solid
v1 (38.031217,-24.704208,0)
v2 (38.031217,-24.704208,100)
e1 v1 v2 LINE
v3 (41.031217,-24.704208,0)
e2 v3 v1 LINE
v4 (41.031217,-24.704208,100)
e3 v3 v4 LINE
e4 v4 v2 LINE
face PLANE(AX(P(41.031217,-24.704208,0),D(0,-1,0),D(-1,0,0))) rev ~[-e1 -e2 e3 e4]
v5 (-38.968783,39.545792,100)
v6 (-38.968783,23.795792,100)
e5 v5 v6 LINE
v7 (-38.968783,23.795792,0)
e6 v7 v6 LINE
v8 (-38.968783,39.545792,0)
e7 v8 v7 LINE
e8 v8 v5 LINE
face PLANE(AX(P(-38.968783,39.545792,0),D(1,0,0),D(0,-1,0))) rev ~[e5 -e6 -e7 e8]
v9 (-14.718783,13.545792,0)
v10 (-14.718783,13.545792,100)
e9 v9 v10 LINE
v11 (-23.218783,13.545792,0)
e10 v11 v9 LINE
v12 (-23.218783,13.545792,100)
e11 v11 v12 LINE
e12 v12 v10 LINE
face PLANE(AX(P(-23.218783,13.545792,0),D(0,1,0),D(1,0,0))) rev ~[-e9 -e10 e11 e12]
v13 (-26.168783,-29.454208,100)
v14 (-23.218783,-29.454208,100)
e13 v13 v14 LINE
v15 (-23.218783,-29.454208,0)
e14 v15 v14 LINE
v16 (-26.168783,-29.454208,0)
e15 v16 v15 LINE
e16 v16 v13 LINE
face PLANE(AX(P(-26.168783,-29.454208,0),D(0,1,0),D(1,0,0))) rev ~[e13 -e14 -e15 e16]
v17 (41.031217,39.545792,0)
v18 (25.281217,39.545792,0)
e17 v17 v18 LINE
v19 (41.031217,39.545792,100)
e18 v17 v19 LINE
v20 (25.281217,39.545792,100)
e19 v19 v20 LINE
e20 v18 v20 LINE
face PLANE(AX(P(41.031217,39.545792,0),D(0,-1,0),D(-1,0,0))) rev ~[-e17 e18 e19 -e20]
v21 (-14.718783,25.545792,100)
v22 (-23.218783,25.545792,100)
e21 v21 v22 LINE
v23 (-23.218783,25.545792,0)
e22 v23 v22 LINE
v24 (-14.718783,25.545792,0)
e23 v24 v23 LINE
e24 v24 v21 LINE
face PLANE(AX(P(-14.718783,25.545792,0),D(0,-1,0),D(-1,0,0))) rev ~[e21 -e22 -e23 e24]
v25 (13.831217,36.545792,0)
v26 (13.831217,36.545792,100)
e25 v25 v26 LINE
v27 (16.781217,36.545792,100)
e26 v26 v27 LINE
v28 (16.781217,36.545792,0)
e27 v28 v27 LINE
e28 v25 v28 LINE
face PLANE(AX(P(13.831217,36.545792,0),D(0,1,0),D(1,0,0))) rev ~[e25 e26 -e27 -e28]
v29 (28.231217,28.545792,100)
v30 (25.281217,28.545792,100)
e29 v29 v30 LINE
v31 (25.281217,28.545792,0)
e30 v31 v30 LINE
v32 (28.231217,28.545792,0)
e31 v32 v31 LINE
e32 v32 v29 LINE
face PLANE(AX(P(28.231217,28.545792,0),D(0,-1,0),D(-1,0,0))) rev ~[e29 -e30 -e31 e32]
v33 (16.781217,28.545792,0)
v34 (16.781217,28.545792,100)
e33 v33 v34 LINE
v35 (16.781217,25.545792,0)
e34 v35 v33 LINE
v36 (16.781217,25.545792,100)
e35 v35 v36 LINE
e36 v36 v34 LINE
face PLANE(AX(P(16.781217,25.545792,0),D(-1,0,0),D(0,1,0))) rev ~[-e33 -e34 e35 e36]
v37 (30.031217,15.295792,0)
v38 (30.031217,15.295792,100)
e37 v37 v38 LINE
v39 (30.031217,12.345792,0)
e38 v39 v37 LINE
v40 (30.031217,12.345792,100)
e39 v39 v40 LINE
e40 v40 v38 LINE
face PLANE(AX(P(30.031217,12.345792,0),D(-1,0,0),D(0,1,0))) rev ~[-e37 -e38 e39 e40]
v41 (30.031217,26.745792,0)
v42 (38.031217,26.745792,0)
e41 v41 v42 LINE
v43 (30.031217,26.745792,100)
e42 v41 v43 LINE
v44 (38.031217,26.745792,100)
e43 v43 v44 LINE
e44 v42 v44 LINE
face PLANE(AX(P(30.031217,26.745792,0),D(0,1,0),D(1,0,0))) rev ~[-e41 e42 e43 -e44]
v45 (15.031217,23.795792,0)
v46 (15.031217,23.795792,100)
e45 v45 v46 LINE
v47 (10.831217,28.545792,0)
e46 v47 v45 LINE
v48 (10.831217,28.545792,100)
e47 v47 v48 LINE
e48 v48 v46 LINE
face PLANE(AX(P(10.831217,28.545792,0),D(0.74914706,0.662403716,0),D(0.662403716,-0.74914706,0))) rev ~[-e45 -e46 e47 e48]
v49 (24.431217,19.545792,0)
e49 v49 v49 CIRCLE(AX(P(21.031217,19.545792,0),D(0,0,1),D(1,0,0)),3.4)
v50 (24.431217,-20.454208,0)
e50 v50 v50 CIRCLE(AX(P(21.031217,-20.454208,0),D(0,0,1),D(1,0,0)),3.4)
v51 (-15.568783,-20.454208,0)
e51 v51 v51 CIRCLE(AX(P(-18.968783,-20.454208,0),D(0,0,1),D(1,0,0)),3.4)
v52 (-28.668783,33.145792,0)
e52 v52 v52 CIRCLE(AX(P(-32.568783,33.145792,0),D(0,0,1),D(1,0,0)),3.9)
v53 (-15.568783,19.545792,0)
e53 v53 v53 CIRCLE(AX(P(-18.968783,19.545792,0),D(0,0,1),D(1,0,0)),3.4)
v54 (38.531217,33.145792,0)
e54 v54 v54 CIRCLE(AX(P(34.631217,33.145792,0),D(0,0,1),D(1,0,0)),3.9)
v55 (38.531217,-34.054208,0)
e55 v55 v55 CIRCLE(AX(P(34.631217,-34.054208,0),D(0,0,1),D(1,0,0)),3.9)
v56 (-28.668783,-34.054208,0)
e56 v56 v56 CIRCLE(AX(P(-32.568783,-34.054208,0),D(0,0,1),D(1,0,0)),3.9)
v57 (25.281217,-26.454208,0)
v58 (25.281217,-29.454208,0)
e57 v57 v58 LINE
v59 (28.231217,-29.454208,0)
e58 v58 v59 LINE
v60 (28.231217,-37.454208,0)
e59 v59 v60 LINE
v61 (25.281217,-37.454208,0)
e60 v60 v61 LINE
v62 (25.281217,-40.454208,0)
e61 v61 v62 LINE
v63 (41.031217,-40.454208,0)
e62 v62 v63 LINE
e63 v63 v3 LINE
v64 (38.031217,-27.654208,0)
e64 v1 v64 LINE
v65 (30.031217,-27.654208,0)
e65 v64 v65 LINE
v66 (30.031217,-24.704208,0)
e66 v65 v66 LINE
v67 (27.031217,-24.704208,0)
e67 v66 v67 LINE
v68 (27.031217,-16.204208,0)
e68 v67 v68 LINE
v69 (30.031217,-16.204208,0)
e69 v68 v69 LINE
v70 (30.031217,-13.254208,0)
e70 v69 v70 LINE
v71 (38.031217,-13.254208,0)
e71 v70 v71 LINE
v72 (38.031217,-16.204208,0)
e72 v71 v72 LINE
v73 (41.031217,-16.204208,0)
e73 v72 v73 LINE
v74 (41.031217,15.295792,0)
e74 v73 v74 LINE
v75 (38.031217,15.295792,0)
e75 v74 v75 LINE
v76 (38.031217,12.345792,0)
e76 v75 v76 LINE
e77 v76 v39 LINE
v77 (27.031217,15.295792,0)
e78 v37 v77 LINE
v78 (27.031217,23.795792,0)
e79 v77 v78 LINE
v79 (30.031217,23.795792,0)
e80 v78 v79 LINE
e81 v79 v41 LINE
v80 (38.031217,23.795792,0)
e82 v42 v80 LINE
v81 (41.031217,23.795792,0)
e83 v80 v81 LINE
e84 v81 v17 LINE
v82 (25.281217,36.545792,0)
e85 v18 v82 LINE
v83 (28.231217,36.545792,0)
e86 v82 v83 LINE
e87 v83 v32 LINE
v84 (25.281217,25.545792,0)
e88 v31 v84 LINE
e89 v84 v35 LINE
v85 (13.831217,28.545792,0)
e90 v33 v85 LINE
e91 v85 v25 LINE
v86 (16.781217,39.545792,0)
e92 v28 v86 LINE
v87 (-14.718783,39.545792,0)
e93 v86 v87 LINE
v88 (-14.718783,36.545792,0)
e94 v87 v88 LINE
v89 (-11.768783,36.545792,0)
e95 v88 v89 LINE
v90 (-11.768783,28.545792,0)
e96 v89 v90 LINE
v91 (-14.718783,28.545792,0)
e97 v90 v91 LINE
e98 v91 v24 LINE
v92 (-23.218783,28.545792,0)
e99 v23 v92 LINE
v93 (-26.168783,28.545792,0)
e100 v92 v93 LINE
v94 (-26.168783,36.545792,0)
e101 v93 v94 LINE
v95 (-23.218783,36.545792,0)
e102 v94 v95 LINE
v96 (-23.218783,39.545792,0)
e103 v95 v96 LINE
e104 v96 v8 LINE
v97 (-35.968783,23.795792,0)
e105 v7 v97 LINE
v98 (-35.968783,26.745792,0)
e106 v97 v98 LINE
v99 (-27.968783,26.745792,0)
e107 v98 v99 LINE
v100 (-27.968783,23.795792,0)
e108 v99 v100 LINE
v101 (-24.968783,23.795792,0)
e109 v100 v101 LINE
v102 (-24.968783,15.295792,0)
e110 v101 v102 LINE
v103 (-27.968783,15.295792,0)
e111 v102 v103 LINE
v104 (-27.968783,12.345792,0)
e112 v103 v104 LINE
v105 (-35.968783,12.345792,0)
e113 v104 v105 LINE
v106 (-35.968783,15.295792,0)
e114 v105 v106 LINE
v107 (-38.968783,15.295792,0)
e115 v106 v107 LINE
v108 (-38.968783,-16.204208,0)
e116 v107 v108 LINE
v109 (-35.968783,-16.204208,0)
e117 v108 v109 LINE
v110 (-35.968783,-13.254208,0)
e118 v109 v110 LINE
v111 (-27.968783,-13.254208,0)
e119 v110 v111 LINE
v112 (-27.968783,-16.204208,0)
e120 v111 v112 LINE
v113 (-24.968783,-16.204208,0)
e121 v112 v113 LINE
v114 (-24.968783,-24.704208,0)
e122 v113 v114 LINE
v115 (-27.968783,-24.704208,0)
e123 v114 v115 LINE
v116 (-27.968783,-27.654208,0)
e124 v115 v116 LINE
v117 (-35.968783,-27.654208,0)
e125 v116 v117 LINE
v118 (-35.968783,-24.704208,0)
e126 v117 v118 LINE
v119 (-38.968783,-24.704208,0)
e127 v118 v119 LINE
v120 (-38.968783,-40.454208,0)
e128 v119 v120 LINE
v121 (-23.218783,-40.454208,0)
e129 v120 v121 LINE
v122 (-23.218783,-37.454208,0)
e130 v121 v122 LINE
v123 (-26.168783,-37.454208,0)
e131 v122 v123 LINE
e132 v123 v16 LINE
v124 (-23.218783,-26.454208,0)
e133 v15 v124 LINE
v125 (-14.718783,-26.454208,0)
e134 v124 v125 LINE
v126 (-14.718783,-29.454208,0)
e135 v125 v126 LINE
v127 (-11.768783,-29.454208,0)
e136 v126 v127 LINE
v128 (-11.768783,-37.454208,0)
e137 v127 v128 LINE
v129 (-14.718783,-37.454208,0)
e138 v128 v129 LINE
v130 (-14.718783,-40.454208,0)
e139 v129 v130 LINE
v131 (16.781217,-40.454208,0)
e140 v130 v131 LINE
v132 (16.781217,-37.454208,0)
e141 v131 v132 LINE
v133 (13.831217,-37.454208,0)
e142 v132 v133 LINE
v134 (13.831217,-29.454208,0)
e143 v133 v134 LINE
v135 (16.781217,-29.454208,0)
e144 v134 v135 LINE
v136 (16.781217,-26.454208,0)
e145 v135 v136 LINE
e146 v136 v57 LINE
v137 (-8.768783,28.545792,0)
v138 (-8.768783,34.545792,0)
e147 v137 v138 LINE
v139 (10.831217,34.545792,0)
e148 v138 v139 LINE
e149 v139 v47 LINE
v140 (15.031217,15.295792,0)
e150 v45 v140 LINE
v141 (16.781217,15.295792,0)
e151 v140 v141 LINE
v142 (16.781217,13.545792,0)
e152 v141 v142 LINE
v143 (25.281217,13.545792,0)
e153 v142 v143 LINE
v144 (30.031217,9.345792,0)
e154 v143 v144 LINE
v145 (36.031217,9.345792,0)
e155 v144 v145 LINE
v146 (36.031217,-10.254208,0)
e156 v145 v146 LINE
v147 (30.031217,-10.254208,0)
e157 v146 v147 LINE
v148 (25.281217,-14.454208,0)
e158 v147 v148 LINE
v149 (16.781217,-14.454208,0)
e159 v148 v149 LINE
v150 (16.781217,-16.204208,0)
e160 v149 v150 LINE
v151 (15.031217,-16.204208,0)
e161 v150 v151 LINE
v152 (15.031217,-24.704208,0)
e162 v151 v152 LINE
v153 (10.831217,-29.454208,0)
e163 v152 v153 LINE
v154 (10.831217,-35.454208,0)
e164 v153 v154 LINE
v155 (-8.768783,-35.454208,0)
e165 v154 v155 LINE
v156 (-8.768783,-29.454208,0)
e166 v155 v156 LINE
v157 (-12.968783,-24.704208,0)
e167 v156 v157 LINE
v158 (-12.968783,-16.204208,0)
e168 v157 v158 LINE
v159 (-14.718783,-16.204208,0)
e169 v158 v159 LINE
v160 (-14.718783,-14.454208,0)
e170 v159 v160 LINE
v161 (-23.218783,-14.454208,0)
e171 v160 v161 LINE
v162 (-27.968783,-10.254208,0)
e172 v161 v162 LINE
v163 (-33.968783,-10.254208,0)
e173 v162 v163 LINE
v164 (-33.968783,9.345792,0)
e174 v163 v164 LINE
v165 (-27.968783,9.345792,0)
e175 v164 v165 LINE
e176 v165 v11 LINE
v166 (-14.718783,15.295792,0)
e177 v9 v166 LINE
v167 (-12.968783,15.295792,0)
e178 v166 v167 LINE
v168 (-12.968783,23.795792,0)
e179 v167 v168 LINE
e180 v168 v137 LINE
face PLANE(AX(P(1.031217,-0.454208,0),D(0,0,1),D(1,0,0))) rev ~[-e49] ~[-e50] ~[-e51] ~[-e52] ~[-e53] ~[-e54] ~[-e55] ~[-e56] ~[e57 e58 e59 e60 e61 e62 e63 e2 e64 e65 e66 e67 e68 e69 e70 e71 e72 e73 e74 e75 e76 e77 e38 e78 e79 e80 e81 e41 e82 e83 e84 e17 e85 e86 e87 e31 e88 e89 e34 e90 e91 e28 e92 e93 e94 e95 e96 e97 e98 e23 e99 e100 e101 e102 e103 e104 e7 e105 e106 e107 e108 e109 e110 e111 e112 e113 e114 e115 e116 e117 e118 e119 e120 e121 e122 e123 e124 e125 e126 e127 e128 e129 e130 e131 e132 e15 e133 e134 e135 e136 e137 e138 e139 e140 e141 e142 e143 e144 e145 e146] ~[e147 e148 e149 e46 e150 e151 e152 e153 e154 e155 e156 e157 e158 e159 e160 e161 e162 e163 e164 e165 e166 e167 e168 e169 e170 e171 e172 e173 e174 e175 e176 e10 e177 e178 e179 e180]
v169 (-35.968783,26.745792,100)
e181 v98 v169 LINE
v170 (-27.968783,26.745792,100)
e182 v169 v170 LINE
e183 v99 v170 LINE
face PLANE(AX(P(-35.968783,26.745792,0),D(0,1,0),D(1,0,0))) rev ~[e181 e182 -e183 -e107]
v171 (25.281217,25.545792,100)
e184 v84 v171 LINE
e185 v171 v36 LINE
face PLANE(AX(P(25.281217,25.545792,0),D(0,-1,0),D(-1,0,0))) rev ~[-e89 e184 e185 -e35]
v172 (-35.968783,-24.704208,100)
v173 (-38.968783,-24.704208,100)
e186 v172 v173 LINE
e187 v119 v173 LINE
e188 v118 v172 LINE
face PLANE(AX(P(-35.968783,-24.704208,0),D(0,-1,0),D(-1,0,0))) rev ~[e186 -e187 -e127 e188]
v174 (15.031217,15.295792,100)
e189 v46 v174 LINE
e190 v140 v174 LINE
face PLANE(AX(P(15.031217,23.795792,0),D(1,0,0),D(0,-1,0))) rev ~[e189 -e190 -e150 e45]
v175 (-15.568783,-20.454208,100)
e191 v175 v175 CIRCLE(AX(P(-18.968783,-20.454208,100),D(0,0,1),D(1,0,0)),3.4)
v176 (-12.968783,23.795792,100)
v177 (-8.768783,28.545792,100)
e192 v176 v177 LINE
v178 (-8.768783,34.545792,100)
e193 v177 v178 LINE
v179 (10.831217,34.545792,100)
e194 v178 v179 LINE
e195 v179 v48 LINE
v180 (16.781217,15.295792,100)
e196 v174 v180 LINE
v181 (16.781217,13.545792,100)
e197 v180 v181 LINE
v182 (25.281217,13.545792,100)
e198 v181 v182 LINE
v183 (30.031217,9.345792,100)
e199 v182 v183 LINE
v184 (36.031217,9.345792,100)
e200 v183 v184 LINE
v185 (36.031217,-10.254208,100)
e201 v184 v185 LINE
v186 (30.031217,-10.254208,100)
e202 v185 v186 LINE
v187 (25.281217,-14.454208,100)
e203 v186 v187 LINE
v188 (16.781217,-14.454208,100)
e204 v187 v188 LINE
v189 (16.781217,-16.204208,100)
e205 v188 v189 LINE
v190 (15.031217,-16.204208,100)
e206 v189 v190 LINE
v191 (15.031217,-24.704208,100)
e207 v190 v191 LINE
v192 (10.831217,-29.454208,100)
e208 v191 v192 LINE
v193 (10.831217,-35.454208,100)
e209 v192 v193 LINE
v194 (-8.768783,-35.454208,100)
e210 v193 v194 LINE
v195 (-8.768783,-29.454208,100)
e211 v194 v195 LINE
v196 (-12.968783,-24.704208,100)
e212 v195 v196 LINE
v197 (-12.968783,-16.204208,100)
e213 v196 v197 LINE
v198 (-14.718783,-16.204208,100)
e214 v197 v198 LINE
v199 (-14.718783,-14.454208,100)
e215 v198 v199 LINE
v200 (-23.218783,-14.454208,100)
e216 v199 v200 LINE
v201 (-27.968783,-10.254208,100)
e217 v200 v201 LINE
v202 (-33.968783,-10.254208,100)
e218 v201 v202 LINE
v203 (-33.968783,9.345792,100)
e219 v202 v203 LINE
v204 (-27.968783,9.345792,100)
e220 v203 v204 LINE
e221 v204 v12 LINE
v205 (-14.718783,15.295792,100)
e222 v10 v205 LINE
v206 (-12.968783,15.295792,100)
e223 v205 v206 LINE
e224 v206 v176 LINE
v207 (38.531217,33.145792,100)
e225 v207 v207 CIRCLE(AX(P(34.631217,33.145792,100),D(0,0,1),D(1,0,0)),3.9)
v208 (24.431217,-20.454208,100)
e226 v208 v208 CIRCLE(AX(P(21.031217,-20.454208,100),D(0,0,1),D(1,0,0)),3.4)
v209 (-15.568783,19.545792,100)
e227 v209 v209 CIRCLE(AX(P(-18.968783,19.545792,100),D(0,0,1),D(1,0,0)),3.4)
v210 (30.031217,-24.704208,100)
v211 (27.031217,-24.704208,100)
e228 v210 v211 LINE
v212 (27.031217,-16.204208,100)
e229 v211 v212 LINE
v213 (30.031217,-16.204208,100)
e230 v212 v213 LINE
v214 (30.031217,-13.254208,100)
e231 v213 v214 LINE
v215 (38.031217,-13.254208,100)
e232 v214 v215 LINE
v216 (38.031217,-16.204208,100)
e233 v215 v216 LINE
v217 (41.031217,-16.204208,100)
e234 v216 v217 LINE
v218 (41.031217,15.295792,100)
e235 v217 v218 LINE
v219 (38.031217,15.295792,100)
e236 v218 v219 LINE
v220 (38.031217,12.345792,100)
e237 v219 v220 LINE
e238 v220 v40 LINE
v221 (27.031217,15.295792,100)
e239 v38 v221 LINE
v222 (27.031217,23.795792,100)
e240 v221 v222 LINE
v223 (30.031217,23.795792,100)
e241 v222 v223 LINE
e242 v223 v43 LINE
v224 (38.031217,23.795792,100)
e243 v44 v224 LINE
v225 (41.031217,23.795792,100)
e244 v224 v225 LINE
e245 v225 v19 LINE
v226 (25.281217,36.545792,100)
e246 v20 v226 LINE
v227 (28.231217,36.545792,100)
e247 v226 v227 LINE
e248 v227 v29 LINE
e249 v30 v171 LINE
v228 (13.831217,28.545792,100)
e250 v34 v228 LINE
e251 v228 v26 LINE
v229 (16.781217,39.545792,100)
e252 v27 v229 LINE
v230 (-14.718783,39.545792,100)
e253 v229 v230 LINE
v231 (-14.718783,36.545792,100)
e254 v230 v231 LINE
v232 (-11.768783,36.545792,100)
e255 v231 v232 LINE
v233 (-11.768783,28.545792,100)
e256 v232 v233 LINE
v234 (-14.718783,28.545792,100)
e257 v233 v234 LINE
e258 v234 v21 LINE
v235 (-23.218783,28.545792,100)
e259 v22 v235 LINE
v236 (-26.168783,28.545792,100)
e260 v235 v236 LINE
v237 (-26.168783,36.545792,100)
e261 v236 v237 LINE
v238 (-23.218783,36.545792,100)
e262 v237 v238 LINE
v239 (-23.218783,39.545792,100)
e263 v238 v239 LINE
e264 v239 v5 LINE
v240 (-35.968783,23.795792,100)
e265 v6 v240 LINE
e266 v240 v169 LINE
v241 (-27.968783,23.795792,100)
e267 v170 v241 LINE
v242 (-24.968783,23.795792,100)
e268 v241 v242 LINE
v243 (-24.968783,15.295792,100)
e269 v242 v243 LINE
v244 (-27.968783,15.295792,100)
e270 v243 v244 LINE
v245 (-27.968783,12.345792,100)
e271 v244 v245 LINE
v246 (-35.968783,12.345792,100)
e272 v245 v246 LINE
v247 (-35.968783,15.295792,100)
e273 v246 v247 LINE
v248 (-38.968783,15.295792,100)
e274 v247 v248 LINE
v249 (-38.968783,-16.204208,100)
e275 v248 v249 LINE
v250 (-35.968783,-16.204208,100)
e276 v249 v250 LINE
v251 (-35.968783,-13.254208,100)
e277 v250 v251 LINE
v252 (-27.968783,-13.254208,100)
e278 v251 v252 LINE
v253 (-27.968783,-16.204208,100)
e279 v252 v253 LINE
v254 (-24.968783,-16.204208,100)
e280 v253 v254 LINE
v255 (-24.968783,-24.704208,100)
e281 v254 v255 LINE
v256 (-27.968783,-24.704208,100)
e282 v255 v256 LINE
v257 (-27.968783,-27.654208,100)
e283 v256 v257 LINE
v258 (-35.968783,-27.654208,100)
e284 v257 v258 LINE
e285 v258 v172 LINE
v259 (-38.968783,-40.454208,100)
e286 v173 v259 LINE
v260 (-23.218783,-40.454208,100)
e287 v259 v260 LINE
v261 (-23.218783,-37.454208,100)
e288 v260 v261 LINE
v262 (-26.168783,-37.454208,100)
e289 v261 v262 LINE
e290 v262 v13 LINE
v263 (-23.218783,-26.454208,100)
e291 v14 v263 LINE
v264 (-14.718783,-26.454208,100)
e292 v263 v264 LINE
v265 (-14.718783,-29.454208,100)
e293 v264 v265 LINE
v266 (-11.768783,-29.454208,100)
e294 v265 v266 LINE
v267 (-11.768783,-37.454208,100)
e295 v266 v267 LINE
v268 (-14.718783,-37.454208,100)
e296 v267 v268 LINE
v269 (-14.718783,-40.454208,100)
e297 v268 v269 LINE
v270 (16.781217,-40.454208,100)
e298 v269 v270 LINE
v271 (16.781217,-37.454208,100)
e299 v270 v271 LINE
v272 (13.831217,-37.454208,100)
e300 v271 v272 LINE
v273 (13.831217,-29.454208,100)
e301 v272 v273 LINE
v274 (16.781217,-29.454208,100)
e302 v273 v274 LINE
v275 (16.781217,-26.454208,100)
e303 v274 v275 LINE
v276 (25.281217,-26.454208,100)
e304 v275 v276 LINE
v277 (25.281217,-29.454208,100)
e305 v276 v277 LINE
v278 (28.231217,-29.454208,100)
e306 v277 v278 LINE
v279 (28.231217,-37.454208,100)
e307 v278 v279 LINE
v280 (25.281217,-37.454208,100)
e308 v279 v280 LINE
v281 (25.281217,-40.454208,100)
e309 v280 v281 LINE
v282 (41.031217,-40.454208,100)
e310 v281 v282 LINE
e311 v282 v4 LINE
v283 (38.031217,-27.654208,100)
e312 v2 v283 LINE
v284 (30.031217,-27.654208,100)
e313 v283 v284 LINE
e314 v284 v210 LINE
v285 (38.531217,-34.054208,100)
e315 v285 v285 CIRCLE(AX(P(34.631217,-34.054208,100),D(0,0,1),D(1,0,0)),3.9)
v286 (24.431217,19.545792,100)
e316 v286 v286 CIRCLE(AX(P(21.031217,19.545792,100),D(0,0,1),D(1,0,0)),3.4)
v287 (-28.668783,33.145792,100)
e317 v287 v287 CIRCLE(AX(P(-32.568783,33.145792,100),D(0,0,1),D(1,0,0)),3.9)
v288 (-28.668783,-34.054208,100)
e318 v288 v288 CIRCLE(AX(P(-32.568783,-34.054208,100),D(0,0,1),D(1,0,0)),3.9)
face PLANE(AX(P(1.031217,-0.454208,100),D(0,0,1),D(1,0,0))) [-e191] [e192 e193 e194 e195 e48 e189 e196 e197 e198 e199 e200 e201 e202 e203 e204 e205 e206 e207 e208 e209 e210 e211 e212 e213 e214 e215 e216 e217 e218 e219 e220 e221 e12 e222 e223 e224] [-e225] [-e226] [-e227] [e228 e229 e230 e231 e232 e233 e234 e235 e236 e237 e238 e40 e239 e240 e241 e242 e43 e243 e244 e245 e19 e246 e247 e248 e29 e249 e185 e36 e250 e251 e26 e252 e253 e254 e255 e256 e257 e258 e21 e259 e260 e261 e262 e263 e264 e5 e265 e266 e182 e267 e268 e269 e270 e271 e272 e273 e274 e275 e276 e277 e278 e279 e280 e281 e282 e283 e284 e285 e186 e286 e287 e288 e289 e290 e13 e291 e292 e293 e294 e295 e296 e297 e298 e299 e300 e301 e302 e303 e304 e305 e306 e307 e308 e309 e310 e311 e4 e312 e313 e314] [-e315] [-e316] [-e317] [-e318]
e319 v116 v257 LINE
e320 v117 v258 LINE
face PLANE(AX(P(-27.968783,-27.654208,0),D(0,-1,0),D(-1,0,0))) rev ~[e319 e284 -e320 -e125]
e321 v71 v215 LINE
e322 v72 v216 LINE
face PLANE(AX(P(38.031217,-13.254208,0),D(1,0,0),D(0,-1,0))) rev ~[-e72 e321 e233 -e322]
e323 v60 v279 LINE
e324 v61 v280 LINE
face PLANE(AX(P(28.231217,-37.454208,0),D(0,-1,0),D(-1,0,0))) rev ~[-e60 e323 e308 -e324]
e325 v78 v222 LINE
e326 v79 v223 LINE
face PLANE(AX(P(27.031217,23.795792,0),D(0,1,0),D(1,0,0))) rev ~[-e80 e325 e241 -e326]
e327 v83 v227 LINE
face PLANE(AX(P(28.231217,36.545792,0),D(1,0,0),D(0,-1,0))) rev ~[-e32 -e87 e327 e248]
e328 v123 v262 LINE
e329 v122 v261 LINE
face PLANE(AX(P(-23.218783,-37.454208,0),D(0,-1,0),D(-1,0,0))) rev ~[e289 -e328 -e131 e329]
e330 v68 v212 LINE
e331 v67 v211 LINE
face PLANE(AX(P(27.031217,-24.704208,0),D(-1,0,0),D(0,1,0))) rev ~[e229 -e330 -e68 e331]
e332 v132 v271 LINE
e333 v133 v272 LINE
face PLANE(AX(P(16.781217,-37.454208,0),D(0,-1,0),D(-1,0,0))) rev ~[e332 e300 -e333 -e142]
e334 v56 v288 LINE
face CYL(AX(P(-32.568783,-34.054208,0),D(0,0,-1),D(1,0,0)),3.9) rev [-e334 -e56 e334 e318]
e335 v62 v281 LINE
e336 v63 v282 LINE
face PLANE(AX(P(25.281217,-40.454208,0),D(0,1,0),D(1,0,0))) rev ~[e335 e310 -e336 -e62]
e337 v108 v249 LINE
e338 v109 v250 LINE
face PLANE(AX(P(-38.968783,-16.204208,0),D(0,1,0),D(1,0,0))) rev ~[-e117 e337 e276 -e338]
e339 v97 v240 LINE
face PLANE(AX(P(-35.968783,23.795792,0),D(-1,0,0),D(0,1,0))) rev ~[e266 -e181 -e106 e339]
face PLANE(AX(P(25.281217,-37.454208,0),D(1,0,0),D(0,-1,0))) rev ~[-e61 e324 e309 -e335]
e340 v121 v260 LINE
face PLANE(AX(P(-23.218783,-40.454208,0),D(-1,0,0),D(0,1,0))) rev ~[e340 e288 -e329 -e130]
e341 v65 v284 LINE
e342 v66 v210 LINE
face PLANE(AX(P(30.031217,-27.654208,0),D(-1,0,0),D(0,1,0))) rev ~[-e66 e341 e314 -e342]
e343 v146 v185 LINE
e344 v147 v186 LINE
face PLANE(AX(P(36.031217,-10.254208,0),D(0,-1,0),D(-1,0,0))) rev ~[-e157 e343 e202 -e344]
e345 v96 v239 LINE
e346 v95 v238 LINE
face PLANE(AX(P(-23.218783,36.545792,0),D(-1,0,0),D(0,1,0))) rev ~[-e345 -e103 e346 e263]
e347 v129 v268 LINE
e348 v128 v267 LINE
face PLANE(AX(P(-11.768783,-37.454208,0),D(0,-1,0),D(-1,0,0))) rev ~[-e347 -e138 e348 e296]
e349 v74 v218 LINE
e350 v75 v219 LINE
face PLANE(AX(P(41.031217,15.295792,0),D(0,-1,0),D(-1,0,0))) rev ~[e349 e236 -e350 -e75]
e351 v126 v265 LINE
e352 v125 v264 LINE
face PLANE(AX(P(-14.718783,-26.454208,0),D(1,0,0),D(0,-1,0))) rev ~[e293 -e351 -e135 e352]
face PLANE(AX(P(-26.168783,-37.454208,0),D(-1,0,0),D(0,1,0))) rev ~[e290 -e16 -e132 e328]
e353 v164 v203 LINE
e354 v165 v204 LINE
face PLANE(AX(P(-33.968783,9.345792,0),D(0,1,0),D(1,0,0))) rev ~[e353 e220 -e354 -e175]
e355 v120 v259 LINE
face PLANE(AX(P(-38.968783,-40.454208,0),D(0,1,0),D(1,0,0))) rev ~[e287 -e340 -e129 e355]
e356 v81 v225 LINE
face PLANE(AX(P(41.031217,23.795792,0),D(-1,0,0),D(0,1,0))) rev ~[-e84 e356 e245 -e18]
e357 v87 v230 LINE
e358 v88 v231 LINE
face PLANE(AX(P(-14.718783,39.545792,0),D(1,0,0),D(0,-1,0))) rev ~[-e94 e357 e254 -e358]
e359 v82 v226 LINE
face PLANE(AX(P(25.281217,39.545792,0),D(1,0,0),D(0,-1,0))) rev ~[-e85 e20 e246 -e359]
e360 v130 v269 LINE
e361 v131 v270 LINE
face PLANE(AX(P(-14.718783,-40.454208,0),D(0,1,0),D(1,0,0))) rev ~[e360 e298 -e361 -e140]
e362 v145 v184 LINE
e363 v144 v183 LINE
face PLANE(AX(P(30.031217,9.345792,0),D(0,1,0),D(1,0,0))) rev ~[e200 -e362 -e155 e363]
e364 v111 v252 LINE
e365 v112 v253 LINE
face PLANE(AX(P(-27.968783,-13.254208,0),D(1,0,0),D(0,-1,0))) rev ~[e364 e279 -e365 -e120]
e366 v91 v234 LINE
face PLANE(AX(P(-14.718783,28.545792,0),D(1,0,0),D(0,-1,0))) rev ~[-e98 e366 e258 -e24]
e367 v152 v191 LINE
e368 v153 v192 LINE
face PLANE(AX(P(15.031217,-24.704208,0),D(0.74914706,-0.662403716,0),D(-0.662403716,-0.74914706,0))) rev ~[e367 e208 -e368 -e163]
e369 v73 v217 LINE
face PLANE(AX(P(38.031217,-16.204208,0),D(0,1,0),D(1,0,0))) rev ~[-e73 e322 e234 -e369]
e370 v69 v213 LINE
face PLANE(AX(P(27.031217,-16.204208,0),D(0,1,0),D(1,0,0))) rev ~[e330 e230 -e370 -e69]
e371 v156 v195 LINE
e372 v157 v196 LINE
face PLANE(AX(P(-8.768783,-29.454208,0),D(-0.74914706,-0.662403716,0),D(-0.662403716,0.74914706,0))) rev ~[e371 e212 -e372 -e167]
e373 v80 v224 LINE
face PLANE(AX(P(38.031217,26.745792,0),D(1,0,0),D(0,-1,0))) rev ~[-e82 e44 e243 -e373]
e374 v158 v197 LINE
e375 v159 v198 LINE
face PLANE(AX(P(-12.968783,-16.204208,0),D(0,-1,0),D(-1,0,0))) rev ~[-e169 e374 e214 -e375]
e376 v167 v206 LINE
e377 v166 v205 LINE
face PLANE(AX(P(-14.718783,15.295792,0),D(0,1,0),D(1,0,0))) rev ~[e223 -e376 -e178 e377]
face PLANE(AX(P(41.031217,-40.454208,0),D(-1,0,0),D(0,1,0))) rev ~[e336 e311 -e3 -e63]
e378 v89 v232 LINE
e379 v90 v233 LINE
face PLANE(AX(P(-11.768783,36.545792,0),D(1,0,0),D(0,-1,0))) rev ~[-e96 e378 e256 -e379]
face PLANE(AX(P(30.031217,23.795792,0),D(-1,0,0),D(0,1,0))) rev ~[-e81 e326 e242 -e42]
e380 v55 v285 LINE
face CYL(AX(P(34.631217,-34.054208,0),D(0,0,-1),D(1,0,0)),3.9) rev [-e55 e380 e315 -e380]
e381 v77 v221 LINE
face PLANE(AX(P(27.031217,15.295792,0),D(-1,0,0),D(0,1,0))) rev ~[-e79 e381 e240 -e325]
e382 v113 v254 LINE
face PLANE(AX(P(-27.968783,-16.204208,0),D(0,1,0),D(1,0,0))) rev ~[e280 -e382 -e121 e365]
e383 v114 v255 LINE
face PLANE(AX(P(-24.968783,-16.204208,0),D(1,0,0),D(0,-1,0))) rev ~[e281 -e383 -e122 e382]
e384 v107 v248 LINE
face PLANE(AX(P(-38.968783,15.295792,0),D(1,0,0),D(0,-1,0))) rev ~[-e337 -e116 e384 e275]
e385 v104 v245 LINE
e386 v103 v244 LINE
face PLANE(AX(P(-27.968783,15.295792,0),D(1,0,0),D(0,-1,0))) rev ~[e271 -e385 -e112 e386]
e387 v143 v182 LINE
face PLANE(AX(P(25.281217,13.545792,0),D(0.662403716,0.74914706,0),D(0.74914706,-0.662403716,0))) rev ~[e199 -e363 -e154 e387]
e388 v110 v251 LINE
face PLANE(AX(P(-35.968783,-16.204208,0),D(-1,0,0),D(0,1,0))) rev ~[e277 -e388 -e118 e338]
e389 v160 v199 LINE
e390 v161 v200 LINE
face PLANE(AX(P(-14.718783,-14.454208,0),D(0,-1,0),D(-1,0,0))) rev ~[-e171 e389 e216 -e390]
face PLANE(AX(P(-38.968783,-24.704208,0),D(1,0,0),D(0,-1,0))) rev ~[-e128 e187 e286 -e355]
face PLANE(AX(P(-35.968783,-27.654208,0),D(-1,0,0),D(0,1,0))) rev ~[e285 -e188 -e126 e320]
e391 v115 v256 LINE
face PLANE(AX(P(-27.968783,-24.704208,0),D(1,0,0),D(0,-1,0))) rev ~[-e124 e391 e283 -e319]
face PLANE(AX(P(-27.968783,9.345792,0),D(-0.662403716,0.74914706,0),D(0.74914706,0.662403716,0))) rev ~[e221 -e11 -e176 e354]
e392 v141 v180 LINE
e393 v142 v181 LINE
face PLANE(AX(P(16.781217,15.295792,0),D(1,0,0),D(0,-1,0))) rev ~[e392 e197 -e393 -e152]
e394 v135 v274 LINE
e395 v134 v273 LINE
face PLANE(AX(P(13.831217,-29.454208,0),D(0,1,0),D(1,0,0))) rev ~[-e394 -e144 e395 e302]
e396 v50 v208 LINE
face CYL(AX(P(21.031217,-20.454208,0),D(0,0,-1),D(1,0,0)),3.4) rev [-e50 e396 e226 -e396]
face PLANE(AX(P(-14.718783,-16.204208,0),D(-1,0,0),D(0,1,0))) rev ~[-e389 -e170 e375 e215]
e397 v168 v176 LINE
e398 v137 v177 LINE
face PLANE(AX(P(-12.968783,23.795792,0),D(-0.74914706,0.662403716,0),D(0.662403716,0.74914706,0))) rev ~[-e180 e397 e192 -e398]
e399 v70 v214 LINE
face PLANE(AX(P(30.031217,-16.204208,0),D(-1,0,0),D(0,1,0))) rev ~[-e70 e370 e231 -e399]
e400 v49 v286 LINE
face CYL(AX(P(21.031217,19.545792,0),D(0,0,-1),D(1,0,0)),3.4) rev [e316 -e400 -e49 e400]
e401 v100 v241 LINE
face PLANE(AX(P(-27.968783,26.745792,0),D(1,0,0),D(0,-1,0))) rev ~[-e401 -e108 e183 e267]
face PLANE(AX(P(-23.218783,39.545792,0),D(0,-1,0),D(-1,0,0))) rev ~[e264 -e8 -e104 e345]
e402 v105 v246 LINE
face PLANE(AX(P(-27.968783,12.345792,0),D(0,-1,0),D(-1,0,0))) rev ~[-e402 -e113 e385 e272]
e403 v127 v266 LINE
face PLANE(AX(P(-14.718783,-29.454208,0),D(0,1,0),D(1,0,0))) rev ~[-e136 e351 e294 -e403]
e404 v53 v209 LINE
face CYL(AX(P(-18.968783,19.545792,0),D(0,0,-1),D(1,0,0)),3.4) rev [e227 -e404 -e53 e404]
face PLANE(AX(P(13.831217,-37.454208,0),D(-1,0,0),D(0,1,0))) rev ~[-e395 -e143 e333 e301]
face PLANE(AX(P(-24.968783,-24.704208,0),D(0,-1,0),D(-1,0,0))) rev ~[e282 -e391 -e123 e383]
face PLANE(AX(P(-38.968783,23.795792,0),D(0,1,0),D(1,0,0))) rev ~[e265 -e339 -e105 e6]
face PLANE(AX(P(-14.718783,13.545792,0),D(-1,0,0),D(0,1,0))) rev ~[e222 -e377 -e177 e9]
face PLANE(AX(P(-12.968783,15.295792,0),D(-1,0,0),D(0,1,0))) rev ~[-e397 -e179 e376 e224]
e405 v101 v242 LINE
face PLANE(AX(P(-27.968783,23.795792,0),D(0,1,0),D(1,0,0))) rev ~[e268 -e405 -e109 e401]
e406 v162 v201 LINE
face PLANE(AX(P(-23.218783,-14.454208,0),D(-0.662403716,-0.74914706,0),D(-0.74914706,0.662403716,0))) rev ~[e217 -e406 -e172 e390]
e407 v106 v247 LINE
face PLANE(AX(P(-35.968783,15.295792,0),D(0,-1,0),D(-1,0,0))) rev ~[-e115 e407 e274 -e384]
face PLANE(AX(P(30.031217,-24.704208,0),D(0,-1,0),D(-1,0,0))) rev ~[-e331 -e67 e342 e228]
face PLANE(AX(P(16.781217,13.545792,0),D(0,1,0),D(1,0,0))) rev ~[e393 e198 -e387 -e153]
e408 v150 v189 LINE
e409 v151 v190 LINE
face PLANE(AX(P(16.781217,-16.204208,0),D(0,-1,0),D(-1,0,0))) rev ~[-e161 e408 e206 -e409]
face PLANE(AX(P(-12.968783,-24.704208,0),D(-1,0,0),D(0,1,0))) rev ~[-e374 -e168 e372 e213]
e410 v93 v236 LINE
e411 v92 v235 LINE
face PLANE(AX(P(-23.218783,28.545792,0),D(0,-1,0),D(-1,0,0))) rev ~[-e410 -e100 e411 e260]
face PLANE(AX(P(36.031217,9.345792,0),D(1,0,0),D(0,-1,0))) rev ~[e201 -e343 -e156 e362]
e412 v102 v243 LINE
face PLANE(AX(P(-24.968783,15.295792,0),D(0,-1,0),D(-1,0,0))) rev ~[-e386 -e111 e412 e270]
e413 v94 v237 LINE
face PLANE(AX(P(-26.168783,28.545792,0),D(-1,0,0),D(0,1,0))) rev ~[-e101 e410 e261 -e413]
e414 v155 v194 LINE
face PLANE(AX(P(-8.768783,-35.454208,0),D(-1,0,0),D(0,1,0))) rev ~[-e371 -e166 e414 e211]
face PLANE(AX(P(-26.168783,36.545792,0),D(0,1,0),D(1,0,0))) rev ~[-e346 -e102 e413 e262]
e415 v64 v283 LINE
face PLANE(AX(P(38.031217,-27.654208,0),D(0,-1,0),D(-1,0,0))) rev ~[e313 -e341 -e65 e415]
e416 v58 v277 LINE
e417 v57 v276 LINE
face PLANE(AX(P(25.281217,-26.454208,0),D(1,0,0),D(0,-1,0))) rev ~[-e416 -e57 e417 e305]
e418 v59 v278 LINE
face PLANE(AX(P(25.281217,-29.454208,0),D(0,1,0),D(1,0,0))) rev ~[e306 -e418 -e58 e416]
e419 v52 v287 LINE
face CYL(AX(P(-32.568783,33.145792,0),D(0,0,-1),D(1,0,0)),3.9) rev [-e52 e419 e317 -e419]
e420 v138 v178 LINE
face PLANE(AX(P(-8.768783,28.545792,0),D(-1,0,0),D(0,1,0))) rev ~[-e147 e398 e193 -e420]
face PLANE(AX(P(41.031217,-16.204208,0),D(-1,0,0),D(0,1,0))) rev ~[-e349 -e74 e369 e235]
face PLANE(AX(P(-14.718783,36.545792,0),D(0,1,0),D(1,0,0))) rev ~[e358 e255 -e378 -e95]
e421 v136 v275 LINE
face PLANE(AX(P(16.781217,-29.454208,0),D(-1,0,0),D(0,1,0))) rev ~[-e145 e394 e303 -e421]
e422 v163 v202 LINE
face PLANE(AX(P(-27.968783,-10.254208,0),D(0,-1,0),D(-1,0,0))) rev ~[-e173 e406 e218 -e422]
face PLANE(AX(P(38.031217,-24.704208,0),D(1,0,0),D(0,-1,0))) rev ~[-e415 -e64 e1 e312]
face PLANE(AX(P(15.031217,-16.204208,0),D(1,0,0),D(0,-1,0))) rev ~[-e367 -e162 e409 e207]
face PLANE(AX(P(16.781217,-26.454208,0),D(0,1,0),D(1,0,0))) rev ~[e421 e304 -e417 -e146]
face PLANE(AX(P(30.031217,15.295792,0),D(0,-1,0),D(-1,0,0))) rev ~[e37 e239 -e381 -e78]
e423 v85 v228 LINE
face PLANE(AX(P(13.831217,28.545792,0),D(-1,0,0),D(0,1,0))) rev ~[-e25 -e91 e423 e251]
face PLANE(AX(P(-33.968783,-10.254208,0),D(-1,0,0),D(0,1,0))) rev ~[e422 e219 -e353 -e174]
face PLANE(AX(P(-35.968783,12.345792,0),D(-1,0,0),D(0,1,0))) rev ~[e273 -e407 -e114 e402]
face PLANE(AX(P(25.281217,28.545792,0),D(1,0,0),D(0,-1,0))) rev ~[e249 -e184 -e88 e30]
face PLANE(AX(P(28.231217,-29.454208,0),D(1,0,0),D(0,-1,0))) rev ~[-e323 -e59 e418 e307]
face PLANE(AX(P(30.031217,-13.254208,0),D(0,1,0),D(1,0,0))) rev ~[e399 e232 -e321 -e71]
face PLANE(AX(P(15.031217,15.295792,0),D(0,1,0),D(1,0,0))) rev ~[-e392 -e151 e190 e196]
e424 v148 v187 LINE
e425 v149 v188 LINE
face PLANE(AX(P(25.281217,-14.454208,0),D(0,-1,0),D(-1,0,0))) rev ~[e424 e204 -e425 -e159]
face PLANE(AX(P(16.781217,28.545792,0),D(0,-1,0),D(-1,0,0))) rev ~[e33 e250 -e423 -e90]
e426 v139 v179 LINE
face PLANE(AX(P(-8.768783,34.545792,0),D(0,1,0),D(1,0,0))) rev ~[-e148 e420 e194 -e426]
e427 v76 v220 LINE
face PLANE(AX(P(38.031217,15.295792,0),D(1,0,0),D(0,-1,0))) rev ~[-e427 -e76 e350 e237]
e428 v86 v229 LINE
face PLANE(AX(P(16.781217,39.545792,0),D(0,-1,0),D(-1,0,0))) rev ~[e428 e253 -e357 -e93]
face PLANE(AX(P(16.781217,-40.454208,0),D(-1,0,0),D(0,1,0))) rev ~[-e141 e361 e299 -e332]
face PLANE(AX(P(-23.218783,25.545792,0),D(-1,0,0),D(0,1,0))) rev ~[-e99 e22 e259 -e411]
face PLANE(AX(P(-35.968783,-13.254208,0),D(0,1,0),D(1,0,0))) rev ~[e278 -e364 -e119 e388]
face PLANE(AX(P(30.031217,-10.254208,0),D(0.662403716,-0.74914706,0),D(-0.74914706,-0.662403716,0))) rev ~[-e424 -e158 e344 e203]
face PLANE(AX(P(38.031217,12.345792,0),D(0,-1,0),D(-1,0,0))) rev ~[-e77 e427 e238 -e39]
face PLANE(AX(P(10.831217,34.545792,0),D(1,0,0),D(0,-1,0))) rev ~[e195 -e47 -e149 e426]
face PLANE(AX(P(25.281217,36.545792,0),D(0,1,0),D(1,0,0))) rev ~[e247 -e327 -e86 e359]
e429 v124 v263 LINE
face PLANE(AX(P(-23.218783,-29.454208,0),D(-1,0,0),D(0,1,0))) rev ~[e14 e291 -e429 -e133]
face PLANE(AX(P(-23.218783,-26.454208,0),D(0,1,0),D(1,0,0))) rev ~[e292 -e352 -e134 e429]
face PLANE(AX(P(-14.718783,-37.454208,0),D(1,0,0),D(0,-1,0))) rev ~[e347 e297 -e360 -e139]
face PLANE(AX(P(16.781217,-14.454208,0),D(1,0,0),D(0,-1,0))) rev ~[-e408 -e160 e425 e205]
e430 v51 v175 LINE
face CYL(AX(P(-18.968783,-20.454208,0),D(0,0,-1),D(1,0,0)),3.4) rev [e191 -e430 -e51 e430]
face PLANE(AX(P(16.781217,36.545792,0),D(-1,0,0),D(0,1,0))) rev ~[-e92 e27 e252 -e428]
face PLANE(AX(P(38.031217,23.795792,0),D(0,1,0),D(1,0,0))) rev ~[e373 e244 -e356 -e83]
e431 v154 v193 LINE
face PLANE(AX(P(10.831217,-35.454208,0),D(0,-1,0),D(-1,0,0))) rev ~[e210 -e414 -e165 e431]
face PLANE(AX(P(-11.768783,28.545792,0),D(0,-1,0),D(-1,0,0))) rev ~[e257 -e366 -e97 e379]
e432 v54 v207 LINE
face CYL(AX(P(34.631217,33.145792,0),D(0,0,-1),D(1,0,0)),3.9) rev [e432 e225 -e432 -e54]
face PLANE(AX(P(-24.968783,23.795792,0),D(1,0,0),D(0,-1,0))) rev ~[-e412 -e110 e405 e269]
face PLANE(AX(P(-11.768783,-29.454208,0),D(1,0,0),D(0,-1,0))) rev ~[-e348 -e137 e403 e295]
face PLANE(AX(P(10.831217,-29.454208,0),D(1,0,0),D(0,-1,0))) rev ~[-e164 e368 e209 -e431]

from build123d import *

# Parameters (mm, degrees)
SKETCH_1_R      = 3.9
SKETCH_1_R_2    = 3.4
EXTRUDE_1_DEPTH = 100


with BuildPart() as part:
    # 草图1 → 凸台-拉伸1 (new body)
    with BuildSketch(Plane.XY):
        Polygon((-23.218782805, 39.545792426), (-38.968782805, 39.545792426), (-38.968782805, 23.795792426), (-35.968782805, 23.795792426), (-35.968782805, 26.745792426), (-27.968782805, 26.745792426), (-27.968782805, 23.795792426), (-24.968782805, 23.795792426), (-24.968782805, 15.295792426), (-27.968782805, 15.295792426), (-27.968782805, 12.345792426), (-35.968782805, 12.345792426), (-35.968782805, 15.295792426), (-38.968782805, 15.295792426), (-38.968782805, -0.454207574), (-38.968782805, -16.204207574), (-35.968782805, -16.204207574), (-35.968782805, -13.254207574), (-27.968782805, -13.254207574), (-27.968782805, -16.204207574), (-24.968782805, -16.204207574), (-24.968782805, -24.704207574), (-27.968782805, -24.704207574), (-27.968782805, -27.654207574), (-35.968782805, -27.654207574), (-35.968782805, -24.704207574), (-38.968782805, -24.704207574), (-38.968782805, -40.454207574), (-23.218782805, -40.454207574), (-23.218782805, -37.454207574), (-26.168782805, -37.454207574), (-26.168782805, -29.454207574), (-23.218782805, -29.454207574), (-23.218782805, -26.454207574), (-14.718782805, -26.454207574), (-14.718782805, -29.454207574), (-11.768782805, -29.454207574), (-11.768782805, -37.454207574), (-14.718782805, -37.454207574), (-14.718782805, -40.454207574), (1.031217195, -40.454207574), (16.781217195, -40.454207574), (16.781217195, -37.454207574), (13.831217195, -37.454207574), (13.831217195, -29.454207574), (16.781217195, -29.454207574), (16.781217195, -26.454207574), (25.281217195, -26.454207574), (25.281217195, -29.454207574), (28.231217195, -29.454207574), (28.231217195, -37.454207574), (25.281217195, -37.454207574), (25.281217195, -40.454207574), (41.031217195, -40.454207574), (41.031217195, -24.704207574), (38.031217195, -24.704207574), (38.031217195, -27.654207574), (30.031217195, -27.654207574), (30.031217195, -24.704207574), (27.031217195, -24.704207574), (27.031217195, -16.204207574), (30.031217195, -16.204207574), (30.031217195, -13.254207574), (38.031217195, -13.254207574), (38.031217195, -16.204207574), (41.031217195, -16.204207574), (41.031217195, -0.454207574), (41.031217195, 15.295792426), (38.031217195, 15.295792426), (38.031217195, 12.345792426), (30.031217195, 12.345792426), (30.031217195, 15.295792426), (27.031217195, 15.295792426), (27.031217195, 23.795792426), (30.031217195, 23.795792426), (30.031217195, 26.745792426), (38.031217195, 26.745792426), (38.031217195, 23.795792426), (41.031217195, 23.795792426), (41.031217195, 39.545792426), (25.281217195, 39.545792426), (25.281217195, 36.545792426), (28.231217195, 36.545792426), (28.231217195, 28.545792426), (25.281217195, 28.545792426), (25.281217195, 25.545792426), (16.781217195, 25.545792426), (16.781217195, 28.545792426), (13.831217195, 28.545792426), (13.831217195, 36.545792426), (16.781217195, 36.545792426), (16.781217195, 39.545792426), (1.031217195, 39.545792426), (-14.718782805, 39.545792426), (-14.718782805, 36.545792426), (-11.768782805, 36.545792426), (-11.768782805, 28.545792426), (-14.718782805, 28.545792426), (-14.718782805, 25.545792426), (-23.218782805, 25.545792426), (-23.218782805, 28.545792426), (-26.168782805, 28.545792426), (-26.168782805, 36.545792426), (-23.218782805, 36.545792426), align=None)
        with Locations((-32.568782805, 33.145792426)):
            Circle(SKETCH_1_R, mode=Mode.SUBTRACT)
        with Locations((-18.968782805, 19.545792426)):
            Circle(SKETCH_1_R_2, mode=Mode.SUBTRACT)
        with Locations((34.631217195, 33.145792426)):
            Circle(SKETCH_1_R, mode=Mode.SUBTRACT)
        with Locations((21.031217195, 19.545792426)):
            Circle(SKETCH_1_R_2, mode=Mode.SUBTRACT)
        with Locations((-32.568782805, -34.054207574)):
            Circle(SKETCH_1_R, mode=Mode.SUBTRACT)
        with Locations((-18.968782805, -20.454207574)):
            Circle(SKETCH_1_R_2, mode=Mode.SUBTRACT)
        with Locations((34.631217195, -34.054207574)):
            Circle(SKETCH_1_R, mode=Mode.SUBTRACT)
        with Locations((21.031217195, -20.454207574)):
            Circle(SKETCH_1_R_2, mode=Mode.SUBTRACT)
        Polygon((-23.218782805, 13.545792426), (-14.718782805, 13.545792426), (-14.718782805, 15.295792426), (-12.968782805, 15.295792426), (-12.968782805, 23.795792426), (-8.768782805, 28.545792426), (-8.768782805, 34.545792426), (10.831217195, 34.545792426), (10.831217195, 28.545792426), (15.031217195, 23.795792426), (15.031217195, 15.295792426), (16.781217195, 15.295792426), (16.781217195, 13.545792426), (25.281217195, 13.545792426), (30.031217195, 9.345792426), (36.031217195, 9.345792426), (36.031217195, -10.254207574), (30.031217195, -10.254207574), (25.281217195, -14.454207574), (16.781217195, -14.454207574), (16.781217195, -16.204207574), (15.031217195, -16.204207574), (15.031217195, -24.704207574), (10.831217195, -29.454207574), (10.831217195, -35.454207574), (-8.768782805, -35.454207574), (-8.768782805, -29.454207574), (-12.968782805, -24.704207574), (-12.968782805, -16.204207574), (-14.718782805, -16.204207574), (-14.718782805, -14.454207574), (-23.218782805, -14.454207574), (-27.968782805, -10.254207574), (-33.968782805, -10.254207574), (-33.968782805, 9.345792426), (-27.968782805, 9.345792426), align=None, mode=Mode.SUBTRACT)
    extrude(amount=EXTRUDE_1_DEPTH)


solid = part.part
